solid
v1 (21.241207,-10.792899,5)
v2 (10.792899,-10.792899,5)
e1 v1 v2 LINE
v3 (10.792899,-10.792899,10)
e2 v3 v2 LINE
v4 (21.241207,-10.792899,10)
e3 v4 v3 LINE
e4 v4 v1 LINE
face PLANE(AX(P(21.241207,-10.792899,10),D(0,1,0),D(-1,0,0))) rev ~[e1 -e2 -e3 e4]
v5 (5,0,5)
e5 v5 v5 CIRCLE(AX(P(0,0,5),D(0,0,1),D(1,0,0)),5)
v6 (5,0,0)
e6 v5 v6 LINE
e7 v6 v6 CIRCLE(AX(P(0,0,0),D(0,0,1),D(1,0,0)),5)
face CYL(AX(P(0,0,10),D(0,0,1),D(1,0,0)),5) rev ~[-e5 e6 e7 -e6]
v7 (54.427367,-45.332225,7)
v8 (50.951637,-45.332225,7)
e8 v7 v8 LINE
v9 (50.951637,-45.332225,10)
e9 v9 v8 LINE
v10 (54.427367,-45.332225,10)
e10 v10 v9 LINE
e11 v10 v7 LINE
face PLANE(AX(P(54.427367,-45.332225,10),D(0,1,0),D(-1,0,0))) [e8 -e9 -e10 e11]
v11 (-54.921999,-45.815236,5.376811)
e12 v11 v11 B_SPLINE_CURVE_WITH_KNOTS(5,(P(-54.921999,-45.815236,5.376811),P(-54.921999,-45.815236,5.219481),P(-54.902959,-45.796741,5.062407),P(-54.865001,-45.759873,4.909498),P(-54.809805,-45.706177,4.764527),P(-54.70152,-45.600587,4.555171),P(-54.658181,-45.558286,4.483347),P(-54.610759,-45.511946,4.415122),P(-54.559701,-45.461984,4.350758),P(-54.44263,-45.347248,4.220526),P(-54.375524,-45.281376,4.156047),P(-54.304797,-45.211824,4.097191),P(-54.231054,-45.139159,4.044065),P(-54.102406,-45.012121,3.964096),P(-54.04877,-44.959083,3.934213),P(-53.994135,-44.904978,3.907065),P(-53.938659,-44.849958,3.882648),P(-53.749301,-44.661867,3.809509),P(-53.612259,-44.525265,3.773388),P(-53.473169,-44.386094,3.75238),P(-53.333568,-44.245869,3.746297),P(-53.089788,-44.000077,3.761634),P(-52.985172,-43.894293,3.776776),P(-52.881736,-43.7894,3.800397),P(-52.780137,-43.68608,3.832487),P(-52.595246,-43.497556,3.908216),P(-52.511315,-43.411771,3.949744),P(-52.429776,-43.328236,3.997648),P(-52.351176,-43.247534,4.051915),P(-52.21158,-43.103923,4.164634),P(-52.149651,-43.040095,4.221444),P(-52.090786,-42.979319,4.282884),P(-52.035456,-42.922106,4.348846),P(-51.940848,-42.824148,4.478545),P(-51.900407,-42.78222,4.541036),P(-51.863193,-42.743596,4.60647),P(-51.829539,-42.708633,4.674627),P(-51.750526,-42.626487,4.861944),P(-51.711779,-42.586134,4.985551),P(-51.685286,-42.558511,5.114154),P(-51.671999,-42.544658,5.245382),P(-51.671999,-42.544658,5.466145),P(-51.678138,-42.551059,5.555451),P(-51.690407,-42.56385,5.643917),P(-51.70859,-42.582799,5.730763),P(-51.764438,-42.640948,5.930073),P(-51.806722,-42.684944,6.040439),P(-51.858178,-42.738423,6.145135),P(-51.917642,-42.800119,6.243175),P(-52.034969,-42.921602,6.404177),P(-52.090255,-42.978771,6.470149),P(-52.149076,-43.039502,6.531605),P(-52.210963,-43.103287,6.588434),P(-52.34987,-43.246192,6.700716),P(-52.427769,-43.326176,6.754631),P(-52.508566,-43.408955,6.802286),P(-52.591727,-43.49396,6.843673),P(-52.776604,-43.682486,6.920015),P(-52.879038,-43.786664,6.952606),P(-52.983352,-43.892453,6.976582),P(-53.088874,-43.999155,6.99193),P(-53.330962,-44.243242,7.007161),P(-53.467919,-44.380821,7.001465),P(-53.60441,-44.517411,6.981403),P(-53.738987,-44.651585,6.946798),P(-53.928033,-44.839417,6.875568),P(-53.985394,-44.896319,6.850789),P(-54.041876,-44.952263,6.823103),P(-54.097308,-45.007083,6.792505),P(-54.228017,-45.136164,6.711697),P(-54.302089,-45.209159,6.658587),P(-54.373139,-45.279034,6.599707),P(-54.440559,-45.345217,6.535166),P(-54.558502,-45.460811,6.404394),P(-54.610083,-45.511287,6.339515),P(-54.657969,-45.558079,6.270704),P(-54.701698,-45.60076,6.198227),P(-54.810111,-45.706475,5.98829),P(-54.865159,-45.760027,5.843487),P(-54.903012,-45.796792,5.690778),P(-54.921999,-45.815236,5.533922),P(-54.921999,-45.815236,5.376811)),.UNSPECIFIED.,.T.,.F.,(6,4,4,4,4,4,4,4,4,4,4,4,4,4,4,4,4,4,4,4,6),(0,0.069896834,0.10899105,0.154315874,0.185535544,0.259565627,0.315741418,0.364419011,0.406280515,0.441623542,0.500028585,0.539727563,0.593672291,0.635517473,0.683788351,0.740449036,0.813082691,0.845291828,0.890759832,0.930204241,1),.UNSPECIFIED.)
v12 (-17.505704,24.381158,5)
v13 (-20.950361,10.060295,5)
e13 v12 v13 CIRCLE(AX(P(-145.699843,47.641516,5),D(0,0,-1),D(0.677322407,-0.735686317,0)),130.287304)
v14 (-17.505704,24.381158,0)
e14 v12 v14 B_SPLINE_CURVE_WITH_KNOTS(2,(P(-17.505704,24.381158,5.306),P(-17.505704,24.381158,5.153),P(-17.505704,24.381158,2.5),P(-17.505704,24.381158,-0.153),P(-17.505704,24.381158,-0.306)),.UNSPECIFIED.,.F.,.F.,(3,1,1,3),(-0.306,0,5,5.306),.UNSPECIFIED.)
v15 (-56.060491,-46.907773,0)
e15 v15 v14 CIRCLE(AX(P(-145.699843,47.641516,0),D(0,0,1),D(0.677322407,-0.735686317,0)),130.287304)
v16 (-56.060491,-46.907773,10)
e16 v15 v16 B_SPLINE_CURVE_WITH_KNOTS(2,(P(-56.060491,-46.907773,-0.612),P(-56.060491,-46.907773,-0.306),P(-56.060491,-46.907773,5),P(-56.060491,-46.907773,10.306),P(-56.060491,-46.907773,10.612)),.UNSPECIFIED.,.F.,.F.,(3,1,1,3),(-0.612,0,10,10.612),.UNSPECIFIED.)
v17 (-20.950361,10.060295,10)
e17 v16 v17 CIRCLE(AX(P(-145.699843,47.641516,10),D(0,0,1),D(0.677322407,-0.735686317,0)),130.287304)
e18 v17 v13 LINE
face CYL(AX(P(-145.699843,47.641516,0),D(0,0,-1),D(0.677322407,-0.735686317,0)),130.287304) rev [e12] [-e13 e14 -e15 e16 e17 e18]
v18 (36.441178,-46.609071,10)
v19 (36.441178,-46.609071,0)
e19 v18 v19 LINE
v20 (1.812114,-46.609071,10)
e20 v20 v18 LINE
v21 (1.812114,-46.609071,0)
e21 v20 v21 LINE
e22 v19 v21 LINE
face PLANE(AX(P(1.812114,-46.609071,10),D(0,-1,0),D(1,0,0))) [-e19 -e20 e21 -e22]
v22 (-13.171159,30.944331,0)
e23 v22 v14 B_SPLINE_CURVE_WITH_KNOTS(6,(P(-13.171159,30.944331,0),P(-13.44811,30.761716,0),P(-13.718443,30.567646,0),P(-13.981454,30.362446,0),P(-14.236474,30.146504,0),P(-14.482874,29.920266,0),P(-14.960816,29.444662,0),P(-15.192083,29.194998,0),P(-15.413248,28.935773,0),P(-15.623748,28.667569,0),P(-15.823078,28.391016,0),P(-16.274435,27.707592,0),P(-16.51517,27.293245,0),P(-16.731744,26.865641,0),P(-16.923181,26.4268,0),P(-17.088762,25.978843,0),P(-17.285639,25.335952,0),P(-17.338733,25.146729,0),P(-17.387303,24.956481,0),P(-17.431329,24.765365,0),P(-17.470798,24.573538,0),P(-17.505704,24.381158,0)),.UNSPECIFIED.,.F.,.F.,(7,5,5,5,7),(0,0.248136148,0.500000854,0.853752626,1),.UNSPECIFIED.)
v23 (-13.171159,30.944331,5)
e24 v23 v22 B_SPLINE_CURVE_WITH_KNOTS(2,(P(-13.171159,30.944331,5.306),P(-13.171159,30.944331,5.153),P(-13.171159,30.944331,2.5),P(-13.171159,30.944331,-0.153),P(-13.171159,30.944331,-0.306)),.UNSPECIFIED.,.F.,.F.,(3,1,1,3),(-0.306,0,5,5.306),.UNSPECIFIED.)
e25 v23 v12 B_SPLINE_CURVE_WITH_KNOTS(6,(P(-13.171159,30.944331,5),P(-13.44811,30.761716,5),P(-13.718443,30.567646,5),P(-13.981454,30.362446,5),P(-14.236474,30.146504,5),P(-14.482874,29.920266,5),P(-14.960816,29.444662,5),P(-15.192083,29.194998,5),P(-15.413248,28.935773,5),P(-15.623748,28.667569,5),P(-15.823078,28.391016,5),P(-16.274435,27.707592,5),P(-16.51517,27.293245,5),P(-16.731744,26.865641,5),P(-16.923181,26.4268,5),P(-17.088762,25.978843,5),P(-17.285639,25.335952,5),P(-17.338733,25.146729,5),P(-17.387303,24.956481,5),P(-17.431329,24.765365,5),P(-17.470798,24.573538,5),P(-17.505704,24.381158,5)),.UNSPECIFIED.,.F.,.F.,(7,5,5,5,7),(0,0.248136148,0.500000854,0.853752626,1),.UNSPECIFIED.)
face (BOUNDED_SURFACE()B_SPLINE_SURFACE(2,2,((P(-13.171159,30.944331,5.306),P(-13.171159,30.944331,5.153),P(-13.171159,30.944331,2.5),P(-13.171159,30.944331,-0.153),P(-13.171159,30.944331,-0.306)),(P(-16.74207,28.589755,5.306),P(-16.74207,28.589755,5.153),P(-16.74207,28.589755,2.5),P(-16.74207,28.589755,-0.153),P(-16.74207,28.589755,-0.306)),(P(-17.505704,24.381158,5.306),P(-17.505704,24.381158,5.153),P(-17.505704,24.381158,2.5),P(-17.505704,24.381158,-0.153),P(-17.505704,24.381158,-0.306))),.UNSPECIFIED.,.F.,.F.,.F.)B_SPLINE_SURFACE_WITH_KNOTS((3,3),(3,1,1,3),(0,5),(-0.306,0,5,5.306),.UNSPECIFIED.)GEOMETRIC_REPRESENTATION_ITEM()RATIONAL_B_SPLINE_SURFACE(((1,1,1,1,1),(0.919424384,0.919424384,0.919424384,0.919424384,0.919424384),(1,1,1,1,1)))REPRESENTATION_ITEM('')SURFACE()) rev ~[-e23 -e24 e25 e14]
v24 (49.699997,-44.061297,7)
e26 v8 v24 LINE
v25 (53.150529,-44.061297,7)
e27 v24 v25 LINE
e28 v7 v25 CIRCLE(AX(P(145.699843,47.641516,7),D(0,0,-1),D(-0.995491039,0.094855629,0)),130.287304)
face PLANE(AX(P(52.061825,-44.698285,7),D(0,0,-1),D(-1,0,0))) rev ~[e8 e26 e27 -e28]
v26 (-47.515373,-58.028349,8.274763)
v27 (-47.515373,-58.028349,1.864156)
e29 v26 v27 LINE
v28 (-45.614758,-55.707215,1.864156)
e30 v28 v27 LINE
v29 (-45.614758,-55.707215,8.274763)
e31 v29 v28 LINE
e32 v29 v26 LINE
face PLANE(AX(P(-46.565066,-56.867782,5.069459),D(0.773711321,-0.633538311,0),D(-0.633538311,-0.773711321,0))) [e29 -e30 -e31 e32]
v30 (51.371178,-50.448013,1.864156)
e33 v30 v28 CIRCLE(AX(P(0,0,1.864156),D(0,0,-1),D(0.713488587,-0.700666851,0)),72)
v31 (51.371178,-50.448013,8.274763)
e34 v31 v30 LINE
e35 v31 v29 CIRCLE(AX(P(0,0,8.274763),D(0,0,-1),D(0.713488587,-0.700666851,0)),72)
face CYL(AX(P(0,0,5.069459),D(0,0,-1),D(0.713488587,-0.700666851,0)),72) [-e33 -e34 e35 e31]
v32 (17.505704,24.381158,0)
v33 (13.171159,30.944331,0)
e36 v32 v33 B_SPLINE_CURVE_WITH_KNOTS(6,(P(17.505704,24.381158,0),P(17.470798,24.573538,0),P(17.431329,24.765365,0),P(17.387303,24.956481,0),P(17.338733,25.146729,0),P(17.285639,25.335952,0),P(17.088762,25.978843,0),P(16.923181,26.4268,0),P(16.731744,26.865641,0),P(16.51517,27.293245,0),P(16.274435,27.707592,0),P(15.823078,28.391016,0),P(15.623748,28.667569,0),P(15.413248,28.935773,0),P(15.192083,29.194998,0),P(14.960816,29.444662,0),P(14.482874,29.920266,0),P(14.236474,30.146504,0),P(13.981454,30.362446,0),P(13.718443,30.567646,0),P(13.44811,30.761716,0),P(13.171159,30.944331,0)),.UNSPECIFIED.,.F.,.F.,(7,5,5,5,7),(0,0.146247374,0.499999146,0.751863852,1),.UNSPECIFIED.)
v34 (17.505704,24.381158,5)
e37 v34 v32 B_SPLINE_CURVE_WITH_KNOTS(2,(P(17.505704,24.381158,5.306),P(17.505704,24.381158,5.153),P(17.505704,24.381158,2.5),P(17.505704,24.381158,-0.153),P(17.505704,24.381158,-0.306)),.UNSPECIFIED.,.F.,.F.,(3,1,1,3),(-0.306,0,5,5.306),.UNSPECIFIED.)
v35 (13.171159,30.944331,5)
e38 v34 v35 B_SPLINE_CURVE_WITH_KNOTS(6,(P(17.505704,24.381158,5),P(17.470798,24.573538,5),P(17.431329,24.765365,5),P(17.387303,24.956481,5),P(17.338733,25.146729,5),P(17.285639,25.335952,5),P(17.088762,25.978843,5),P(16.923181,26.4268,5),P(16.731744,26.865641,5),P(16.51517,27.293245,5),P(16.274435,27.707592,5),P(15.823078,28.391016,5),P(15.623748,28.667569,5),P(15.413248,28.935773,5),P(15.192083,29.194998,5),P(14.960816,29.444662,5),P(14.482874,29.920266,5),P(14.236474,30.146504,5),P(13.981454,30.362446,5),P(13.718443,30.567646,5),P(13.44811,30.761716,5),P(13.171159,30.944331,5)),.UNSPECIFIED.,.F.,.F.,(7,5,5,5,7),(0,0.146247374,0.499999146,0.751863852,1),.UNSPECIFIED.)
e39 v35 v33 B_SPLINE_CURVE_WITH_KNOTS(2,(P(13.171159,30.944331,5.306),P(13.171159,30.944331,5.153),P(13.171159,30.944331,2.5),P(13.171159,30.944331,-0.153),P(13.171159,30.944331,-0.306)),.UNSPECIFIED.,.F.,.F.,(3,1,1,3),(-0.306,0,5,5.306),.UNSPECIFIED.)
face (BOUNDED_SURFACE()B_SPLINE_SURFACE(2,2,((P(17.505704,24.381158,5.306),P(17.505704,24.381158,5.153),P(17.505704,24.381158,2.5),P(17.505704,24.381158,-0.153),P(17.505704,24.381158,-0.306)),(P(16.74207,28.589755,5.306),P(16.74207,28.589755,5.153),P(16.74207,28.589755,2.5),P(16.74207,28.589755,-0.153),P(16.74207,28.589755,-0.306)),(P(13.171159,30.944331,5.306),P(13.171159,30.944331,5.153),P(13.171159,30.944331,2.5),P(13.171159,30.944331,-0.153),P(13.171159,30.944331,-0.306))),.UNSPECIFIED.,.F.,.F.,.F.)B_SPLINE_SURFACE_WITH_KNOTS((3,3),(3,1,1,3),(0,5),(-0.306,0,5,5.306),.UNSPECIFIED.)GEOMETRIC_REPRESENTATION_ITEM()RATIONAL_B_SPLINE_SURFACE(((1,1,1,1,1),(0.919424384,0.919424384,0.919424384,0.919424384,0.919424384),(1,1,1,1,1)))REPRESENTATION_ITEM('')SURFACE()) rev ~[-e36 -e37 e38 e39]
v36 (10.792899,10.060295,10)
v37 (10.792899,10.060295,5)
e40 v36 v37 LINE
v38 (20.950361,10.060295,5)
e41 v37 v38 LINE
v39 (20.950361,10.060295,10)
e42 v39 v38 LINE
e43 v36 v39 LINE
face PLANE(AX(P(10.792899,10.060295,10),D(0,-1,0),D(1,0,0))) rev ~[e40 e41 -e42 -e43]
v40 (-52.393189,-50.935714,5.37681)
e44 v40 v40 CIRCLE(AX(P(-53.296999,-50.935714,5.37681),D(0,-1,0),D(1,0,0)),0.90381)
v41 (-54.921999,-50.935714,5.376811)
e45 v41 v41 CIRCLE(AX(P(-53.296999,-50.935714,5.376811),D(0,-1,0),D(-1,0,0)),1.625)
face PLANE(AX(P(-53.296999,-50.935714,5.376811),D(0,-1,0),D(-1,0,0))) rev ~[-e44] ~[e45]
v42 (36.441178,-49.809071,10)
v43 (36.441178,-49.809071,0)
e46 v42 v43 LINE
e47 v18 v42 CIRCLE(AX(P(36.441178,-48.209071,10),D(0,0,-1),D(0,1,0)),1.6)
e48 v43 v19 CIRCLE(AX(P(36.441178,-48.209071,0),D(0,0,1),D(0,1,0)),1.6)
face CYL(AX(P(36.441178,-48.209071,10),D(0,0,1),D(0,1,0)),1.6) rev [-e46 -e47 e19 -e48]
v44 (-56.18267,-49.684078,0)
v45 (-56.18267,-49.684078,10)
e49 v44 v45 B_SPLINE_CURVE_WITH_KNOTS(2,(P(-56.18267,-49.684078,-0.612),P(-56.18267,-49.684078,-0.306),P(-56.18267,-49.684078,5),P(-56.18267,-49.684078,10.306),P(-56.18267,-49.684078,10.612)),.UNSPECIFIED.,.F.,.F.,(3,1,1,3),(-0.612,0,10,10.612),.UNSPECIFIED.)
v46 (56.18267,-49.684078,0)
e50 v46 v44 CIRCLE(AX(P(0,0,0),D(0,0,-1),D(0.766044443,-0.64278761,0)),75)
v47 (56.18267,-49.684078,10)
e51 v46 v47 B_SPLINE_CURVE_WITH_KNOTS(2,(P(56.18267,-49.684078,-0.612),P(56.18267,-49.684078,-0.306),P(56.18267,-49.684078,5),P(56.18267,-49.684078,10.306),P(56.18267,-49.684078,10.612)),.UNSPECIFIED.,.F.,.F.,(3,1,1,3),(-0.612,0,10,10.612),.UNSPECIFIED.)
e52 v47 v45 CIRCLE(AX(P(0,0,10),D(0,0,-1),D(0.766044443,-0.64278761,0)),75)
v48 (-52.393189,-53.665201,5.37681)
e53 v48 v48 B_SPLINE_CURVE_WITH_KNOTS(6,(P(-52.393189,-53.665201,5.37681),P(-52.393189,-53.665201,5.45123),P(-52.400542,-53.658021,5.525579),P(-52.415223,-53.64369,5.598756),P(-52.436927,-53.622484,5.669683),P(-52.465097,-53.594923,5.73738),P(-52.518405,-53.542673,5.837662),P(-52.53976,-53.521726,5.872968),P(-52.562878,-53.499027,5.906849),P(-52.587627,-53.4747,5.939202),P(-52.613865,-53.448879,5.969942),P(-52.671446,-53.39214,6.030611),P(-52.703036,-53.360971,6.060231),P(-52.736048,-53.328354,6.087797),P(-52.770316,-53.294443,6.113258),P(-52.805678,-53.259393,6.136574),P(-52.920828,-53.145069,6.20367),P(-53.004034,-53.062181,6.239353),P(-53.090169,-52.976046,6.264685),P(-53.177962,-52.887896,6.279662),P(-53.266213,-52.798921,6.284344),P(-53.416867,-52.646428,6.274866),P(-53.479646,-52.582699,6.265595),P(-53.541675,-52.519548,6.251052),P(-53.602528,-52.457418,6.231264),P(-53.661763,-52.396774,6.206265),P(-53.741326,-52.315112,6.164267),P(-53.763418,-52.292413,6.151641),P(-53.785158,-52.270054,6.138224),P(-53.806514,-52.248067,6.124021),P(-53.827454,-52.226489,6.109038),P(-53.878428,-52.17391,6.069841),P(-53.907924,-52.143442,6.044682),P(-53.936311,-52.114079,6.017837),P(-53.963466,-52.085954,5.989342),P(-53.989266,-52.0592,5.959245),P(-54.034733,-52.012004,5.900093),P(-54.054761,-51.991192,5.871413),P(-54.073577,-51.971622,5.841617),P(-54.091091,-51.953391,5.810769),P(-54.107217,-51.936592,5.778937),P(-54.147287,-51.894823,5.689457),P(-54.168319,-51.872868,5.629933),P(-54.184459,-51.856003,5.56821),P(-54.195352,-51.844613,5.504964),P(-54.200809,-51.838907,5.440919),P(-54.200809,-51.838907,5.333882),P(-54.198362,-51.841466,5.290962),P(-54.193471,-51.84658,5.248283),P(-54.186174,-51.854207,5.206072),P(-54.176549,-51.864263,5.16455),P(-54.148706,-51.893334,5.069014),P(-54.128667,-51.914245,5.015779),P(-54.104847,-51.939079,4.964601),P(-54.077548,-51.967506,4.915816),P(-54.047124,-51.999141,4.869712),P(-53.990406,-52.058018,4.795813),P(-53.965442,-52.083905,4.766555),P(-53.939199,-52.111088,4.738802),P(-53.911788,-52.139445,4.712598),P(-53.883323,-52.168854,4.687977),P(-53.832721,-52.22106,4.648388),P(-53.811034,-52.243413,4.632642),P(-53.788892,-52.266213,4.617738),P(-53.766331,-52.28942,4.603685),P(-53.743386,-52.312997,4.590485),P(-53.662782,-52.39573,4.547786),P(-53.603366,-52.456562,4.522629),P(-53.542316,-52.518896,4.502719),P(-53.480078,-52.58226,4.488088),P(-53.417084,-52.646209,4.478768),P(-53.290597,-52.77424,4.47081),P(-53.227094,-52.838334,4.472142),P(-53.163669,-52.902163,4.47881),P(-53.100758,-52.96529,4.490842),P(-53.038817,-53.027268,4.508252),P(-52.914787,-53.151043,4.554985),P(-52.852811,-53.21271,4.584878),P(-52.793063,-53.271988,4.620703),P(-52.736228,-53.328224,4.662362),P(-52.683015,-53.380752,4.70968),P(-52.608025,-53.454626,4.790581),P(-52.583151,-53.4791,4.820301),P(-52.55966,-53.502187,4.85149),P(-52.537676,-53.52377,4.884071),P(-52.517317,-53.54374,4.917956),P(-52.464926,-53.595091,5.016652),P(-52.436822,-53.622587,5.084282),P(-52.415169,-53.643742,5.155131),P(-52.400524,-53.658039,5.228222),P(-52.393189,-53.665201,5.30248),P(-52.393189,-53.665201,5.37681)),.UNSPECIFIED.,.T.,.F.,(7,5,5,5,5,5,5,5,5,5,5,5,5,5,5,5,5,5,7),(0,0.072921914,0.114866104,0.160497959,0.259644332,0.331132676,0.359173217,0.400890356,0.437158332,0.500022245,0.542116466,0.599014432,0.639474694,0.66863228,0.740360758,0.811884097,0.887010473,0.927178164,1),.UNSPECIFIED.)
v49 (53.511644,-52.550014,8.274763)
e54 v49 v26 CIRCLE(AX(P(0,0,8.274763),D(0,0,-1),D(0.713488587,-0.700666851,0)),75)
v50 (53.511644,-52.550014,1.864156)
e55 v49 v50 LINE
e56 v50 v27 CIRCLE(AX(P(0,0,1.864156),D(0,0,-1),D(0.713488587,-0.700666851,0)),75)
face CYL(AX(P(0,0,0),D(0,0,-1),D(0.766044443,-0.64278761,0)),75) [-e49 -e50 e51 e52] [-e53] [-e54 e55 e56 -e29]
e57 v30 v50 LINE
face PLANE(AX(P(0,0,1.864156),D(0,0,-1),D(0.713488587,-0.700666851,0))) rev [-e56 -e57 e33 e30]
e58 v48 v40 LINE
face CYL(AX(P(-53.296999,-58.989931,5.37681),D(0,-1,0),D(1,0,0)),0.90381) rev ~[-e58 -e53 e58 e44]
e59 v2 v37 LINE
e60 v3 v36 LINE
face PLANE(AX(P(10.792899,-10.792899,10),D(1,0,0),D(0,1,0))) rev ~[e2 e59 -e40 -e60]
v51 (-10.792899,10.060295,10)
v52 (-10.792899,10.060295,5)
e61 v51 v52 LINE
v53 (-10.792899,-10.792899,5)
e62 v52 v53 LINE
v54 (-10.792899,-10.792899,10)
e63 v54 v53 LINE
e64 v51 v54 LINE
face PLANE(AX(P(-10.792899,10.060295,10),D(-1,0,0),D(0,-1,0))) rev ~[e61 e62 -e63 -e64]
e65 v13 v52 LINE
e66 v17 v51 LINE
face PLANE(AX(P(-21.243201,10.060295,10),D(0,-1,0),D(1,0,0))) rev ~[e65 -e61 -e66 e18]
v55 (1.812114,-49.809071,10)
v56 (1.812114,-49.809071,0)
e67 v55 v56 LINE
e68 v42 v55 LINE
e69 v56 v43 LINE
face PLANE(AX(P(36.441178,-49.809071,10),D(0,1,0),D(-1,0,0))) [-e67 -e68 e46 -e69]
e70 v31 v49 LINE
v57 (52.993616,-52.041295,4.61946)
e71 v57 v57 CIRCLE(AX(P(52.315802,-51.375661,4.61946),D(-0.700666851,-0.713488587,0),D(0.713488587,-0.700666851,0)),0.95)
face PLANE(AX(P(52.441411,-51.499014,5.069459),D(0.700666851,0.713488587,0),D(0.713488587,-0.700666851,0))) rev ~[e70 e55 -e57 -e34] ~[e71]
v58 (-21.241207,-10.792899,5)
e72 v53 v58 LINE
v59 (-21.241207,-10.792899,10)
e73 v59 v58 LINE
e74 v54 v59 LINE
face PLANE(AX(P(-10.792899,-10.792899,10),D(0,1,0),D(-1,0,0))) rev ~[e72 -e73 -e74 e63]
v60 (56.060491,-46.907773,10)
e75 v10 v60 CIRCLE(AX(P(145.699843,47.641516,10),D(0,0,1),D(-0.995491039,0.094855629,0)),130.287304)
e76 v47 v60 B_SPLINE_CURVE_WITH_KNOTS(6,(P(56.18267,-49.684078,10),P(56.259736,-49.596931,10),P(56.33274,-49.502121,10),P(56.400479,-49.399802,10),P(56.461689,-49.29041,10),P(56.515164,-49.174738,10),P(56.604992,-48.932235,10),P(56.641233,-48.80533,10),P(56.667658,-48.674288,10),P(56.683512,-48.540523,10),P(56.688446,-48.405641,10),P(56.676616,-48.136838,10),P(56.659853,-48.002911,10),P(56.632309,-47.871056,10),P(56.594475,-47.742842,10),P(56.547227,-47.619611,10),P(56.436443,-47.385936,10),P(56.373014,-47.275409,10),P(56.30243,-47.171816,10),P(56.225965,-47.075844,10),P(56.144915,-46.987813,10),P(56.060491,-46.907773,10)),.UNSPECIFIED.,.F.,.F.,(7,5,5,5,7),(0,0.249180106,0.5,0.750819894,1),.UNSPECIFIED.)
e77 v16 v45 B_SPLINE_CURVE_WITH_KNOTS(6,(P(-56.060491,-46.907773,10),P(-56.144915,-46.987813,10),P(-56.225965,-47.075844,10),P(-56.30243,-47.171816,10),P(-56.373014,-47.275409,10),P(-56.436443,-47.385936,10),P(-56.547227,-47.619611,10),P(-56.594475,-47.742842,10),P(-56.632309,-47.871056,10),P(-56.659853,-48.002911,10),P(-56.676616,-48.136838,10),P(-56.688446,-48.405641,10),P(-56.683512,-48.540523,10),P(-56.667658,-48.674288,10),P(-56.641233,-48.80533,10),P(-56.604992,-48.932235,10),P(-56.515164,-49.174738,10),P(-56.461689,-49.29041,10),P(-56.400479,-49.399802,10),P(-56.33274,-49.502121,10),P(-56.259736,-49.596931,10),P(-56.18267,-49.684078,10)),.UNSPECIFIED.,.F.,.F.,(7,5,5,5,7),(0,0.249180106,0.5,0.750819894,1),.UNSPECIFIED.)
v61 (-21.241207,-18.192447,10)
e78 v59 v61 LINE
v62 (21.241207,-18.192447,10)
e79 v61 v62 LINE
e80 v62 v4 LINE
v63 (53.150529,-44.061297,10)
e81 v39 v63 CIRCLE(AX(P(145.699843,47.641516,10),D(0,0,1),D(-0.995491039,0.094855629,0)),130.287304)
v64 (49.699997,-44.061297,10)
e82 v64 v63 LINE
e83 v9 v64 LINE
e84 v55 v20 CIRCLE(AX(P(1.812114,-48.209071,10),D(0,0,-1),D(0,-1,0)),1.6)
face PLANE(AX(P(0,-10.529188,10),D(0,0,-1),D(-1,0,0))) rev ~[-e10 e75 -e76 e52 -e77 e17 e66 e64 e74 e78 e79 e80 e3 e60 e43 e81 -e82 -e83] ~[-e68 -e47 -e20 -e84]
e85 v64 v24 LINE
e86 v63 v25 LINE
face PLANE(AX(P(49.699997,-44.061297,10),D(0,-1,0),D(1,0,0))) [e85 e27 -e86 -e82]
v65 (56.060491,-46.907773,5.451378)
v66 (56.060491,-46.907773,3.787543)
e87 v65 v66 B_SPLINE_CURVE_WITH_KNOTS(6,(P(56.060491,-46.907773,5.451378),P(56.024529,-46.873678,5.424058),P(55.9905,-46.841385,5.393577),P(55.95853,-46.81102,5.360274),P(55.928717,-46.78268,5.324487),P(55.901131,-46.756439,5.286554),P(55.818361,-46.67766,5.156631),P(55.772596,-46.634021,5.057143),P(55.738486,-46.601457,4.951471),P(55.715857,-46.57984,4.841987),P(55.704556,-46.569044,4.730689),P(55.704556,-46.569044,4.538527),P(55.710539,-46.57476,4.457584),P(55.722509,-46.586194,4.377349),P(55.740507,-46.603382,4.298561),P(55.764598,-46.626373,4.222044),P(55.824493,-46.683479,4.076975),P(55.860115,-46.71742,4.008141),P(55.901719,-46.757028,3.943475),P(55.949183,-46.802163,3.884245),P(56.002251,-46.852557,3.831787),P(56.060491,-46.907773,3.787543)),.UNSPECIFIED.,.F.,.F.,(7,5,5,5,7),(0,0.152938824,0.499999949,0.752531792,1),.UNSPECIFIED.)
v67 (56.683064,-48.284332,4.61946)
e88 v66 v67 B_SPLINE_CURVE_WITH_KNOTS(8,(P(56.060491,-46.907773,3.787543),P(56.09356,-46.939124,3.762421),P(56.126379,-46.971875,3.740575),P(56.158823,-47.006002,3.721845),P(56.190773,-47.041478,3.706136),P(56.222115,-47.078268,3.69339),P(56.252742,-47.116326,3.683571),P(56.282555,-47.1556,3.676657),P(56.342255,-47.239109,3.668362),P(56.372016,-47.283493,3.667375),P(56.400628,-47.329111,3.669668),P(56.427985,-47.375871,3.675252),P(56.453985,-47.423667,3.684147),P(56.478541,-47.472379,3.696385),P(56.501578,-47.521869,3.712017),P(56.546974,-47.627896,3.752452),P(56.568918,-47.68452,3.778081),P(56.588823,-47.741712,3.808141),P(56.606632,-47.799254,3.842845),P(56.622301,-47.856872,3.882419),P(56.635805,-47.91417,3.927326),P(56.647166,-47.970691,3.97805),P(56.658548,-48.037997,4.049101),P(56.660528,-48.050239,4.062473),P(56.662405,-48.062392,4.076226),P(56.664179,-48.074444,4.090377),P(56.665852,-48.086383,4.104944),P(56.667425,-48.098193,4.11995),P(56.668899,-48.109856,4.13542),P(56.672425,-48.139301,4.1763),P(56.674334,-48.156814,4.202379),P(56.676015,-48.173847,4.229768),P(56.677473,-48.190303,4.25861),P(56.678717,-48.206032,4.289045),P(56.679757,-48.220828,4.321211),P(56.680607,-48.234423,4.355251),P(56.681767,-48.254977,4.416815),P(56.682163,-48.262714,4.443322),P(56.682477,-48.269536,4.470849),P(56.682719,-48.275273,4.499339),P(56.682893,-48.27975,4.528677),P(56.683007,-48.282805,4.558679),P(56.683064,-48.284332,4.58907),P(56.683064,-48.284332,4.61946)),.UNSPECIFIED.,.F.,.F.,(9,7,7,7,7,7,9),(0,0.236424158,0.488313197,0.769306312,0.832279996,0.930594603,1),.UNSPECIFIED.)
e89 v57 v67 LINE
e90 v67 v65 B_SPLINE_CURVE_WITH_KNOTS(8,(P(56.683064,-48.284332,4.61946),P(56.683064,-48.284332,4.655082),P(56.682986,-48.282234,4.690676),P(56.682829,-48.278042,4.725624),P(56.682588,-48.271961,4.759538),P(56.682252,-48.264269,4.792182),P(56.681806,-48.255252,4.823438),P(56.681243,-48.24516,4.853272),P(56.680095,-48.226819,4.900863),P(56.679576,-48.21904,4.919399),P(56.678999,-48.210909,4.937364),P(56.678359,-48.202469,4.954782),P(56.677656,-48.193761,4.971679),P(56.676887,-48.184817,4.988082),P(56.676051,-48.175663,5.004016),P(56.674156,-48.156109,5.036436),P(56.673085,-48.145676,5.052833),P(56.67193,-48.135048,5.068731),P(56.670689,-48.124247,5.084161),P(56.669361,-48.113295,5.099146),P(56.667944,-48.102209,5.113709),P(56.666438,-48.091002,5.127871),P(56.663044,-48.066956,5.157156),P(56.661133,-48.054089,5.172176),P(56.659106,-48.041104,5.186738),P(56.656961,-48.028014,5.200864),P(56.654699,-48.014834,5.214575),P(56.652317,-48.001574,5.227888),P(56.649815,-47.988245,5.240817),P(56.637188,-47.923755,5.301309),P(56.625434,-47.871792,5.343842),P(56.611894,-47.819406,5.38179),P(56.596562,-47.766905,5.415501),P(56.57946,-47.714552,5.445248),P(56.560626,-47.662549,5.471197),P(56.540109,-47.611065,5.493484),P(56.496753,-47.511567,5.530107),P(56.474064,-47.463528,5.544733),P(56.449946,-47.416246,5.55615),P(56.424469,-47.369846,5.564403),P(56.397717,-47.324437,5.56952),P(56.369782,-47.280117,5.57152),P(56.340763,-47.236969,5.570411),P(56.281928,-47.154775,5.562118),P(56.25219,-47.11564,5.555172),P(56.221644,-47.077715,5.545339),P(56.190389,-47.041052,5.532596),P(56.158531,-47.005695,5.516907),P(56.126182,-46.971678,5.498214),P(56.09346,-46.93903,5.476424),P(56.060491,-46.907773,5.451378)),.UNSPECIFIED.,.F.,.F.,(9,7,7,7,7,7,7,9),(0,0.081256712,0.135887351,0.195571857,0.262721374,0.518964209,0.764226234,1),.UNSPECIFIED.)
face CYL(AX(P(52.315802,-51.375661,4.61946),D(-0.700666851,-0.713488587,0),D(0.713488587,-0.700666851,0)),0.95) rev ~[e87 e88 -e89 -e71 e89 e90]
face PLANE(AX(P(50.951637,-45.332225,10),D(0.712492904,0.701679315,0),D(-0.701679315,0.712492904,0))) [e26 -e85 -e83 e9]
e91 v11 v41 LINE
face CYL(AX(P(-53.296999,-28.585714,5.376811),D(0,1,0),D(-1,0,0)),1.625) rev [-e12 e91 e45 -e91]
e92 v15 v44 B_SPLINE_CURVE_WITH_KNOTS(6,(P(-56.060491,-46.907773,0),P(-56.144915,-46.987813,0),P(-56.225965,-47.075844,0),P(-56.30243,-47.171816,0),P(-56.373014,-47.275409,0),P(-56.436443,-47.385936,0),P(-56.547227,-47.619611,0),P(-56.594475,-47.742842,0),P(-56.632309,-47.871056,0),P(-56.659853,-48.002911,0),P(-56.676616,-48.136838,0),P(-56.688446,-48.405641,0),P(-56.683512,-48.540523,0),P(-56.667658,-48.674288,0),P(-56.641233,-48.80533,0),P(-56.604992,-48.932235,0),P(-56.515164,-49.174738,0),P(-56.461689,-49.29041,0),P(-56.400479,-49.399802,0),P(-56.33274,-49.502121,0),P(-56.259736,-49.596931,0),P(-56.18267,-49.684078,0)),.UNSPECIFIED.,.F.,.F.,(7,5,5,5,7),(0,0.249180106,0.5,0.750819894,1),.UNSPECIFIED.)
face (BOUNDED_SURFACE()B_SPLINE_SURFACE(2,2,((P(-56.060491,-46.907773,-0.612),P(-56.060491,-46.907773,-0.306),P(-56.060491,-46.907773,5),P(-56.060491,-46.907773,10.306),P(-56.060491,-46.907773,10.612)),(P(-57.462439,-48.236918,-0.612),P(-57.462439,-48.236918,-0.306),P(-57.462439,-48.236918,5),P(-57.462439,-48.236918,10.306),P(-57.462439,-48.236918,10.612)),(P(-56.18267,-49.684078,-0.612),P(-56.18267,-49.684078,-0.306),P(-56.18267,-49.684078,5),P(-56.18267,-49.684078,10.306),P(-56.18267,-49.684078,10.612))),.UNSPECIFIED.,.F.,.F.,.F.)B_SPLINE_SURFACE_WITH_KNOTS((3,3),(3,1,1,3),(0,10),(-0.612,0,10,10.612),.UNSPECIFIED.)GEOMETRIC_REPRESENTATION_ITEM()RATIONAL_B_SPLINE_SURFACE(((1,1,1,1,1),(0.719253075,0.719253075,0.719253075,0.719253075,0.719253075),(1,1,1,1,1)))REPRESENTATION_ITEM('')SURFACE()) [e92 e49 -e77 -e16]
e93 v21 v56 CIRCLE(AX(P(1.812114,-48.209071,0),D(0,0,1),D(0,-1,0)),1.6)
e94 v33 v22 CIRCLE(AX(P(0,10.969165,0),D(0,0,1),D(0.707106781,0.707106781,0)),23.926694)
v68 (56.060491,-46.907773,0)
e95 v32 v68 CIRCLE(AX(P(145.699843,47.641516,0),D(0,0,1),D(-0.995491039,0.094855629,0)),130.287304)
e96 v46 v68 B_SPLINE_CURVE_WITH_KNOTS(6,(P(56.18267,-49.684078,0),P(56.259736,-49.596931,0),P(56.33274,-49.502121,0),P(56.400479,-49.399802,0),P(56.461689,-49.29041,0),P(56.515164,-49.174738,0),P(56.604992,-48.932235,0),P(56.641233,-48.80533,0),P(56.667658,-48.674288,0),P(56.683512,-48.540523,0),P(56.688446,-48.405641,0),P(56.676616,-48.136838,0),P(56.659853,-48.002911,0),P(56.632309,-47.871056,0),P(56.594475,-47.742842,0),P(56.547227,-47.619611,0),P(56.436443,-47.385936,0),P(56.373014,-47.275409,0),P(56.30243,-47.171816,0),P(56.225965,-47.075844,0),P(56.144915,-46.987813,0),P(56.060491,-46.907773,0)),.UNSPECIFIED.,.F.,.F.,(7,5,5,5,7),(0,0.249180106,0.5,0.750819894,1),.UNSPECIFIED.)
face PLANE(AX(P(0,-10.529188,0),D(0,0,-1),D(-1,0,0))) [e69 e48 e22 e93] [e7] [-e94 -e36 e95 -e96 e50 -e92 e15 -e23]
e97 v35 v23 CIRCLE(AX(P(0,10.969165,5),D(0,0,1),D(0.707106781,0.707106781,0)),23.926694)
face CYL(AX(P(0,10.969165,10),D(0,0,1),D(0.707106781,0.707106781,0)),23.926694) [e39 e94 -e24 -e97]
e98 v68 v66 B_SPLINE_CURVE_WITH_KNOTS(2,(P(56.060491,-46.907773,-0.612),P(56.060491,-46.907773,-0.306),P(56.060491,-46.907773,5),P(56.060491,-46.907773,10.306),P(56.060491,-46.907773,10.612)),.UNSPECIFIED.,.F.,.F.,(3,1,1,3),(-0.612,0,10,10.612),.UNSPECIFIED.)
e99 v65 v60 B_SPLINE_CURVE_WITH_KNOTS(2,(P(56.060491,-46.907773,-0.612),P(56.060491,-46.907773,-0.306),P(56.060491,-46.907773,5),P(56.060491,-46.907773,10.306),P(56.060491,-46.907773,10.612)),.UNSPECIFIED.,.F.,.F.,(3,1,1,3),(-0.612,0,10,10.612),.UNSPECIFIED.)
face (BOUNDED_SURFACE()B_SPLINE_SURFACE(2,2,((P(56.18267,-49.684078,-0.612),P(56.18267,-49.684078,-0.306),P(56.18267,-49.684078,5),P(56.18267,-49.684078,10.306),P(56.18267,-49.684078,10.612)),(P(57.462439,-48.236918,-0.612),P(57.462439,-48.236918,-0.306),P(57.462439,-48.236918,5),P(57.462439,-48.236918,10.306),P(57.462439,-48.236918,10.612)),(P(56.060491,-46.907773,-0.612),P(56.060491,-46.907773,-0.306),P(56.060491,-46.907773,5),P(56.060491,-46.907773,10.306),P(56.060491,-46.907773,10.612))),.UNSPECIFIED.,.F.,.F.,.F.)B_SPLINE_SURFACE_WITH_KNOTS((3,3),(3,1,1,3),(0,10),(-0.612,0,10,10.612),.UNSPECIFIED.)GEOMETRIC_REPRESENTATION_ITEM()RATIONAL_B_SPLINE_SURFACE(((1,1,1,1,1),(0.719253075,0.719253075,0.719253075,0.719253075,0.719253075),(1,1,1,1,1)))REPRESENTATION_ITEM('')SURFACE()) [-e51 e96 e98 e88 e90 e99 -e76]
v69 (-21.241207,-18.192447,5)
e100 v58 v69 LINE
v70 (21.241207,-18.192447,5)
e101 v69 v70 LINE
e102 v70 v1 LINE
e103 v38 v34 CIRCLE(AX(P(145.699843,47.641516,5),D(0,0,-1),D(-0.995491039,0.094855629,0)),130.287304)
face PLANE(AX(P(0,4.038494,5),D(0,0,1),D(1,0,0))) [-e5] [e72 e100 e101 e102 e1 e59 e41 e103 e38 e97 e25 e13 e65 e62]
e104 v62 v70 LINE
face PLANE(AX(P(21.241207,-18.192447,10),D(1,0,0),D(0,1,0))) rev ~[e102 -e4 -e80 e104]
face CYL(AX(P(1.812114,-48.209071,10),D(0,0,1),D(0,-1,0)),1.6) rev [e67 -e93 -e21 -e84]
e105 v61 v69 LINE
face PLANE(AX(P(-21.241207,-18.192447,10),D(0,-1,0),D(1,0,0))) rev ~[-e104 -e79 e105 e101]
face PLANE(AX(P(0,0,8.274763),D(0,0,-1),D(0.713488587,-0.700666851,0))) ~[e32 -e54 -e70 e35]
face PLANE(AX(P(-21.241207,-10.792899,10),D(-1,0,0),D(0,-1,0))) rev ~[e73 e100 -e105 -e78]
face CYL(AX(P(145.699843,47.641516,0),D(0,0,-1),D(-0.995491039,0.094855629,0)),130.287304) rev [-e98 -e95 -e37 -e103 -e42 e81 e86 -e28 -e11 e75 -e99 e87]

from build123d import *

# Parameters (mm, degrees)
BODY_DEPTH            = 10
SKETCH2_R             = 5
ATTACHMENT_HOLE_DEPTH = 96.00466041
WRAP1_SECTION_W       = 3
WRAP1_SECTION_H       = 6.4106076
WRAP1_ANGLE           = 84.831127775
FILLET3_R             = 2
FILLET4_R             = 2
HORIZ_SLOT_DEPTH      = 95.541676532
CUT_EXTRUDE15_DEPTH   = 3
CUT_EXTRUDE16_DEPTH   = 95.541676532
CUT_EXTRUDE17_DEPTH   = 5
FILLET5_R             = 10
SKETCH31_R            = 0.95
CUT_EXTRUDE24_DEPTH   = 95.541676532
SKETCH21_R            = 0.90381
CUT_EXTRUDE25_DEPTH   = 111.125701877
SKETCH33_R            = 1.625
CUT_EXTRUDE27_DEPTH   = 22.35


with BuildPart() as part:
    # Sketch1 → Body (new body)
    with BuildSketch(Plane.XY):
        with BuildLine():
            ThreePointArc((-57.453333234, -48.209070726), (-24.034507314, 1.033281591), (-16, 60))
            ThreePointArc((-16, 60), (0, 74.927440201), (16, 60))
            ThreePointArc((16, 60), (24.034507314, 1.033281591), (57.453333234, -48.209070726))
            ThreePointArc((57.453333234, -48.209070726), (0, -75), (-57.453333234, -48.209070726))
        make_face()
    extrude(amount=BODY_DEPTH)

    # Sketch2 → Attachment Hole (cut, through all)
    with BuildSketch(Plane.XY.offset(10)):
        Circle(SKETCH2_R)
    extrude(amount=-ATTACHMENT_HOLE_DEPTH, mode=Mode.SUBTRACT)

    # Wrap1 section (on wrap section) → Wrap1 (revolve, cut)
    with BuildSketch(Plane(origin=(0, 0, 0), x_dir=(0.7134885867247005, -0.7006668513734539, 0), z_dir=(0.7006668513734539, 0.7134885867247005, 0))):
        with Locations((73.5, -5.0694594)):
            Rectangle(WRAP1_SECTION_W, WRAP1_SECTION_H)
    revolve(axis=Axis((0, 0, 0), (0, 0, -1)), revolution_arc=WRAP1_ANGLE, mode=Mode.SUBTRACT)

    # Fillet3
    fillet3_edges = [part.edges().sort_by_distance(p)[0] for p in [
        (-57.453333234, -48.209070726, 5),
    ]]
    fillet(fillet3_edges, radius=FILLET3_R)

    # Fillet4
    fillet4_edges = [part.edges().sort_by_distance(p)[0] for p in [
        (57.453333234, -48.209070726, 5),
    ]]
    fillet(fillet4_edges, radius=FILLET4_R)

    # Sketch23 → Horiz Slot (cut, through all)
    with BuildSketch(Plane.XY.offset(10)):
        with BuildLine():
            Line((1.812113949, -46.609070726), (36.441177813, -46.609070726))
            ThreePointArc((36.441177813, -46.609070726), (38.041177813, -48.209070726), (36.441177813, -49.809070726))
            Line((36.441177813, -49.809070726), (1.812113949, -49.809070726))
            ThreePointArc((1.812113949, -49.809070726), (0.212113949, -48.209070726), (1.812113949, -46.609070726))
        make_face()
    extrude(amount=-HORIZ_SLOT_DEPTH, mode=Mode.SUBTRACT)

    # Sketch26 → Cut-Extrude15 (cut)
    with BuildSketch(Plane.XY.offset(10)):
        Polygon((54.427367135, -45.332225497), (50.951636705, -45.332225497), (49.699997105, -44.061296863), (53.150528739, -44.061296863), align=None)
    extrude(amount=-CUT_EXTRUDE15_DEPTH, mode=Mode.SUBTRACT)

    # Sketch27 → Cut-Extrude16 (cut, through all)
    with BuildSketch(Plane.XY.offset(10)):
        with BuildLine():
            ThreePointArc((-16.918727247, 27.887892651), (-15.465829132, 43.915521308), (-16, 60))
            ThreePointArc((-16, 60), (0, 74.927440201), (16, 60))
            ThreePointArc((16, 60), (15.465829132, 43.915521308), (16.918727247, 27.887892651))
            ThreePointArc((16.918727247, 27.887892651), (0, 34.895858935), (-16.918727247, 27.887892651))
        make_face()
    extrude(amount=-CUT_EXTRUDE16_DEPTH, mode=Mode.SUBTRACT)

    # Sketch17 → Cut-Extrude17 (cut)
    with BuildSketch(Plane.XY.offset(10)):
        with BuildLine():
            Line((-21.243201492, 10.060294876), (-10.792899418, 10.060294876))
            Line((-10.792899418, 10.060294876), (-10.792899418, -10.792899418))
            Line((-10.792899418, -10.792899418), (-21.241207195, -10.792899418))
            Line((-21.241207195, -10.792899418), (-21.241207195, -18.192446802))
            Line((-21.241207195, -18.192446802), (21.241207195, -18.192446802))
            Line((21.241207195, -18.192446802), (21.241207195, -10.792899418))
            Line((21.241207195, -10.792899418), (10.792899418, -10.792899418))
            Line((10.792899418, -10.792899418), (10.792899418, 10.060294876))
            Line((10.792899418, 10.060294876), (21.243201492, 10.060294876))
            ThreePointArc((21.243201492, 10.060294876), (18.825884313, 18.91221851), (16.918727247, 27.887892651))
            ThreePointArc((16.918727247, 27.887892651), (0, 34.895858935), (-16.918727247, 27.887892651))
            ThreePointArc((-16.918727247, 27.887892651), (-18.825884313, 18.91221851), (-21.243201492, 10.060294876))
        make_face()
    extrude(amount=-CUT_EXTRUDE17_DEPTH, mode=Mode.SUBTRACT)

    # Fillet5
    fillet5_edges = [part.edges().sort_by_distance(p)[0] for p in [
        (16.918727247, 27.887892651, 2.5),
        (-16.918727247, 27.887892651, 2.5),
    ]]
    fillet(fillet5_edges, radius=FILLET5_R)

    # Sketch31 → Cut-Extrude24 (cut, through all)
    with BuildSketch(Plane(origin=(0, 0, 0), x_dir=(0.7134885867247006, -0.7006668513734536, 0), z_dir=(-0.7006668513734536, -0.7134885867247006, 0))):
        with Locations((73.323950442, 4.61946028)):
            Circle(SKETCH31_R)
    extrude(amount=-CUT_EXTRUDE24_DEPTH, mode=Mode.SUBTRACT)

    # Sketch21 → Cut-Extrude25 (cut, through all)
    with BuildSketch(Plane(origin=(0, -58.989931303, 0), x_dir=(-1, 0, 0), z_dir=(0, -1, 0))):
        with Locations(Location((53.296998856, -5.37681, 0), (0, 0, 180))):
            Circle(SKETCH21_R)
    extrude(amount=-CUT_EXTRUDE25_DEPTH, mode=Mode.SUBTRACT)

    # Sketch33 → Cut-Extrude27 (cut)
    with BuildSketch(Plane(origin=(0, -28.585713625, 0), x_dir=(-1, 0, 0), z_dir=(0, -1, 0))):
        with Locations((53.296998856, -5.376810807)):
            Circle(SKETCH33_R)
    extrude(amount=CUT_EXTRUDE27_DEPTH, mode=Mode.SUBTRACT)


solid = part.part
